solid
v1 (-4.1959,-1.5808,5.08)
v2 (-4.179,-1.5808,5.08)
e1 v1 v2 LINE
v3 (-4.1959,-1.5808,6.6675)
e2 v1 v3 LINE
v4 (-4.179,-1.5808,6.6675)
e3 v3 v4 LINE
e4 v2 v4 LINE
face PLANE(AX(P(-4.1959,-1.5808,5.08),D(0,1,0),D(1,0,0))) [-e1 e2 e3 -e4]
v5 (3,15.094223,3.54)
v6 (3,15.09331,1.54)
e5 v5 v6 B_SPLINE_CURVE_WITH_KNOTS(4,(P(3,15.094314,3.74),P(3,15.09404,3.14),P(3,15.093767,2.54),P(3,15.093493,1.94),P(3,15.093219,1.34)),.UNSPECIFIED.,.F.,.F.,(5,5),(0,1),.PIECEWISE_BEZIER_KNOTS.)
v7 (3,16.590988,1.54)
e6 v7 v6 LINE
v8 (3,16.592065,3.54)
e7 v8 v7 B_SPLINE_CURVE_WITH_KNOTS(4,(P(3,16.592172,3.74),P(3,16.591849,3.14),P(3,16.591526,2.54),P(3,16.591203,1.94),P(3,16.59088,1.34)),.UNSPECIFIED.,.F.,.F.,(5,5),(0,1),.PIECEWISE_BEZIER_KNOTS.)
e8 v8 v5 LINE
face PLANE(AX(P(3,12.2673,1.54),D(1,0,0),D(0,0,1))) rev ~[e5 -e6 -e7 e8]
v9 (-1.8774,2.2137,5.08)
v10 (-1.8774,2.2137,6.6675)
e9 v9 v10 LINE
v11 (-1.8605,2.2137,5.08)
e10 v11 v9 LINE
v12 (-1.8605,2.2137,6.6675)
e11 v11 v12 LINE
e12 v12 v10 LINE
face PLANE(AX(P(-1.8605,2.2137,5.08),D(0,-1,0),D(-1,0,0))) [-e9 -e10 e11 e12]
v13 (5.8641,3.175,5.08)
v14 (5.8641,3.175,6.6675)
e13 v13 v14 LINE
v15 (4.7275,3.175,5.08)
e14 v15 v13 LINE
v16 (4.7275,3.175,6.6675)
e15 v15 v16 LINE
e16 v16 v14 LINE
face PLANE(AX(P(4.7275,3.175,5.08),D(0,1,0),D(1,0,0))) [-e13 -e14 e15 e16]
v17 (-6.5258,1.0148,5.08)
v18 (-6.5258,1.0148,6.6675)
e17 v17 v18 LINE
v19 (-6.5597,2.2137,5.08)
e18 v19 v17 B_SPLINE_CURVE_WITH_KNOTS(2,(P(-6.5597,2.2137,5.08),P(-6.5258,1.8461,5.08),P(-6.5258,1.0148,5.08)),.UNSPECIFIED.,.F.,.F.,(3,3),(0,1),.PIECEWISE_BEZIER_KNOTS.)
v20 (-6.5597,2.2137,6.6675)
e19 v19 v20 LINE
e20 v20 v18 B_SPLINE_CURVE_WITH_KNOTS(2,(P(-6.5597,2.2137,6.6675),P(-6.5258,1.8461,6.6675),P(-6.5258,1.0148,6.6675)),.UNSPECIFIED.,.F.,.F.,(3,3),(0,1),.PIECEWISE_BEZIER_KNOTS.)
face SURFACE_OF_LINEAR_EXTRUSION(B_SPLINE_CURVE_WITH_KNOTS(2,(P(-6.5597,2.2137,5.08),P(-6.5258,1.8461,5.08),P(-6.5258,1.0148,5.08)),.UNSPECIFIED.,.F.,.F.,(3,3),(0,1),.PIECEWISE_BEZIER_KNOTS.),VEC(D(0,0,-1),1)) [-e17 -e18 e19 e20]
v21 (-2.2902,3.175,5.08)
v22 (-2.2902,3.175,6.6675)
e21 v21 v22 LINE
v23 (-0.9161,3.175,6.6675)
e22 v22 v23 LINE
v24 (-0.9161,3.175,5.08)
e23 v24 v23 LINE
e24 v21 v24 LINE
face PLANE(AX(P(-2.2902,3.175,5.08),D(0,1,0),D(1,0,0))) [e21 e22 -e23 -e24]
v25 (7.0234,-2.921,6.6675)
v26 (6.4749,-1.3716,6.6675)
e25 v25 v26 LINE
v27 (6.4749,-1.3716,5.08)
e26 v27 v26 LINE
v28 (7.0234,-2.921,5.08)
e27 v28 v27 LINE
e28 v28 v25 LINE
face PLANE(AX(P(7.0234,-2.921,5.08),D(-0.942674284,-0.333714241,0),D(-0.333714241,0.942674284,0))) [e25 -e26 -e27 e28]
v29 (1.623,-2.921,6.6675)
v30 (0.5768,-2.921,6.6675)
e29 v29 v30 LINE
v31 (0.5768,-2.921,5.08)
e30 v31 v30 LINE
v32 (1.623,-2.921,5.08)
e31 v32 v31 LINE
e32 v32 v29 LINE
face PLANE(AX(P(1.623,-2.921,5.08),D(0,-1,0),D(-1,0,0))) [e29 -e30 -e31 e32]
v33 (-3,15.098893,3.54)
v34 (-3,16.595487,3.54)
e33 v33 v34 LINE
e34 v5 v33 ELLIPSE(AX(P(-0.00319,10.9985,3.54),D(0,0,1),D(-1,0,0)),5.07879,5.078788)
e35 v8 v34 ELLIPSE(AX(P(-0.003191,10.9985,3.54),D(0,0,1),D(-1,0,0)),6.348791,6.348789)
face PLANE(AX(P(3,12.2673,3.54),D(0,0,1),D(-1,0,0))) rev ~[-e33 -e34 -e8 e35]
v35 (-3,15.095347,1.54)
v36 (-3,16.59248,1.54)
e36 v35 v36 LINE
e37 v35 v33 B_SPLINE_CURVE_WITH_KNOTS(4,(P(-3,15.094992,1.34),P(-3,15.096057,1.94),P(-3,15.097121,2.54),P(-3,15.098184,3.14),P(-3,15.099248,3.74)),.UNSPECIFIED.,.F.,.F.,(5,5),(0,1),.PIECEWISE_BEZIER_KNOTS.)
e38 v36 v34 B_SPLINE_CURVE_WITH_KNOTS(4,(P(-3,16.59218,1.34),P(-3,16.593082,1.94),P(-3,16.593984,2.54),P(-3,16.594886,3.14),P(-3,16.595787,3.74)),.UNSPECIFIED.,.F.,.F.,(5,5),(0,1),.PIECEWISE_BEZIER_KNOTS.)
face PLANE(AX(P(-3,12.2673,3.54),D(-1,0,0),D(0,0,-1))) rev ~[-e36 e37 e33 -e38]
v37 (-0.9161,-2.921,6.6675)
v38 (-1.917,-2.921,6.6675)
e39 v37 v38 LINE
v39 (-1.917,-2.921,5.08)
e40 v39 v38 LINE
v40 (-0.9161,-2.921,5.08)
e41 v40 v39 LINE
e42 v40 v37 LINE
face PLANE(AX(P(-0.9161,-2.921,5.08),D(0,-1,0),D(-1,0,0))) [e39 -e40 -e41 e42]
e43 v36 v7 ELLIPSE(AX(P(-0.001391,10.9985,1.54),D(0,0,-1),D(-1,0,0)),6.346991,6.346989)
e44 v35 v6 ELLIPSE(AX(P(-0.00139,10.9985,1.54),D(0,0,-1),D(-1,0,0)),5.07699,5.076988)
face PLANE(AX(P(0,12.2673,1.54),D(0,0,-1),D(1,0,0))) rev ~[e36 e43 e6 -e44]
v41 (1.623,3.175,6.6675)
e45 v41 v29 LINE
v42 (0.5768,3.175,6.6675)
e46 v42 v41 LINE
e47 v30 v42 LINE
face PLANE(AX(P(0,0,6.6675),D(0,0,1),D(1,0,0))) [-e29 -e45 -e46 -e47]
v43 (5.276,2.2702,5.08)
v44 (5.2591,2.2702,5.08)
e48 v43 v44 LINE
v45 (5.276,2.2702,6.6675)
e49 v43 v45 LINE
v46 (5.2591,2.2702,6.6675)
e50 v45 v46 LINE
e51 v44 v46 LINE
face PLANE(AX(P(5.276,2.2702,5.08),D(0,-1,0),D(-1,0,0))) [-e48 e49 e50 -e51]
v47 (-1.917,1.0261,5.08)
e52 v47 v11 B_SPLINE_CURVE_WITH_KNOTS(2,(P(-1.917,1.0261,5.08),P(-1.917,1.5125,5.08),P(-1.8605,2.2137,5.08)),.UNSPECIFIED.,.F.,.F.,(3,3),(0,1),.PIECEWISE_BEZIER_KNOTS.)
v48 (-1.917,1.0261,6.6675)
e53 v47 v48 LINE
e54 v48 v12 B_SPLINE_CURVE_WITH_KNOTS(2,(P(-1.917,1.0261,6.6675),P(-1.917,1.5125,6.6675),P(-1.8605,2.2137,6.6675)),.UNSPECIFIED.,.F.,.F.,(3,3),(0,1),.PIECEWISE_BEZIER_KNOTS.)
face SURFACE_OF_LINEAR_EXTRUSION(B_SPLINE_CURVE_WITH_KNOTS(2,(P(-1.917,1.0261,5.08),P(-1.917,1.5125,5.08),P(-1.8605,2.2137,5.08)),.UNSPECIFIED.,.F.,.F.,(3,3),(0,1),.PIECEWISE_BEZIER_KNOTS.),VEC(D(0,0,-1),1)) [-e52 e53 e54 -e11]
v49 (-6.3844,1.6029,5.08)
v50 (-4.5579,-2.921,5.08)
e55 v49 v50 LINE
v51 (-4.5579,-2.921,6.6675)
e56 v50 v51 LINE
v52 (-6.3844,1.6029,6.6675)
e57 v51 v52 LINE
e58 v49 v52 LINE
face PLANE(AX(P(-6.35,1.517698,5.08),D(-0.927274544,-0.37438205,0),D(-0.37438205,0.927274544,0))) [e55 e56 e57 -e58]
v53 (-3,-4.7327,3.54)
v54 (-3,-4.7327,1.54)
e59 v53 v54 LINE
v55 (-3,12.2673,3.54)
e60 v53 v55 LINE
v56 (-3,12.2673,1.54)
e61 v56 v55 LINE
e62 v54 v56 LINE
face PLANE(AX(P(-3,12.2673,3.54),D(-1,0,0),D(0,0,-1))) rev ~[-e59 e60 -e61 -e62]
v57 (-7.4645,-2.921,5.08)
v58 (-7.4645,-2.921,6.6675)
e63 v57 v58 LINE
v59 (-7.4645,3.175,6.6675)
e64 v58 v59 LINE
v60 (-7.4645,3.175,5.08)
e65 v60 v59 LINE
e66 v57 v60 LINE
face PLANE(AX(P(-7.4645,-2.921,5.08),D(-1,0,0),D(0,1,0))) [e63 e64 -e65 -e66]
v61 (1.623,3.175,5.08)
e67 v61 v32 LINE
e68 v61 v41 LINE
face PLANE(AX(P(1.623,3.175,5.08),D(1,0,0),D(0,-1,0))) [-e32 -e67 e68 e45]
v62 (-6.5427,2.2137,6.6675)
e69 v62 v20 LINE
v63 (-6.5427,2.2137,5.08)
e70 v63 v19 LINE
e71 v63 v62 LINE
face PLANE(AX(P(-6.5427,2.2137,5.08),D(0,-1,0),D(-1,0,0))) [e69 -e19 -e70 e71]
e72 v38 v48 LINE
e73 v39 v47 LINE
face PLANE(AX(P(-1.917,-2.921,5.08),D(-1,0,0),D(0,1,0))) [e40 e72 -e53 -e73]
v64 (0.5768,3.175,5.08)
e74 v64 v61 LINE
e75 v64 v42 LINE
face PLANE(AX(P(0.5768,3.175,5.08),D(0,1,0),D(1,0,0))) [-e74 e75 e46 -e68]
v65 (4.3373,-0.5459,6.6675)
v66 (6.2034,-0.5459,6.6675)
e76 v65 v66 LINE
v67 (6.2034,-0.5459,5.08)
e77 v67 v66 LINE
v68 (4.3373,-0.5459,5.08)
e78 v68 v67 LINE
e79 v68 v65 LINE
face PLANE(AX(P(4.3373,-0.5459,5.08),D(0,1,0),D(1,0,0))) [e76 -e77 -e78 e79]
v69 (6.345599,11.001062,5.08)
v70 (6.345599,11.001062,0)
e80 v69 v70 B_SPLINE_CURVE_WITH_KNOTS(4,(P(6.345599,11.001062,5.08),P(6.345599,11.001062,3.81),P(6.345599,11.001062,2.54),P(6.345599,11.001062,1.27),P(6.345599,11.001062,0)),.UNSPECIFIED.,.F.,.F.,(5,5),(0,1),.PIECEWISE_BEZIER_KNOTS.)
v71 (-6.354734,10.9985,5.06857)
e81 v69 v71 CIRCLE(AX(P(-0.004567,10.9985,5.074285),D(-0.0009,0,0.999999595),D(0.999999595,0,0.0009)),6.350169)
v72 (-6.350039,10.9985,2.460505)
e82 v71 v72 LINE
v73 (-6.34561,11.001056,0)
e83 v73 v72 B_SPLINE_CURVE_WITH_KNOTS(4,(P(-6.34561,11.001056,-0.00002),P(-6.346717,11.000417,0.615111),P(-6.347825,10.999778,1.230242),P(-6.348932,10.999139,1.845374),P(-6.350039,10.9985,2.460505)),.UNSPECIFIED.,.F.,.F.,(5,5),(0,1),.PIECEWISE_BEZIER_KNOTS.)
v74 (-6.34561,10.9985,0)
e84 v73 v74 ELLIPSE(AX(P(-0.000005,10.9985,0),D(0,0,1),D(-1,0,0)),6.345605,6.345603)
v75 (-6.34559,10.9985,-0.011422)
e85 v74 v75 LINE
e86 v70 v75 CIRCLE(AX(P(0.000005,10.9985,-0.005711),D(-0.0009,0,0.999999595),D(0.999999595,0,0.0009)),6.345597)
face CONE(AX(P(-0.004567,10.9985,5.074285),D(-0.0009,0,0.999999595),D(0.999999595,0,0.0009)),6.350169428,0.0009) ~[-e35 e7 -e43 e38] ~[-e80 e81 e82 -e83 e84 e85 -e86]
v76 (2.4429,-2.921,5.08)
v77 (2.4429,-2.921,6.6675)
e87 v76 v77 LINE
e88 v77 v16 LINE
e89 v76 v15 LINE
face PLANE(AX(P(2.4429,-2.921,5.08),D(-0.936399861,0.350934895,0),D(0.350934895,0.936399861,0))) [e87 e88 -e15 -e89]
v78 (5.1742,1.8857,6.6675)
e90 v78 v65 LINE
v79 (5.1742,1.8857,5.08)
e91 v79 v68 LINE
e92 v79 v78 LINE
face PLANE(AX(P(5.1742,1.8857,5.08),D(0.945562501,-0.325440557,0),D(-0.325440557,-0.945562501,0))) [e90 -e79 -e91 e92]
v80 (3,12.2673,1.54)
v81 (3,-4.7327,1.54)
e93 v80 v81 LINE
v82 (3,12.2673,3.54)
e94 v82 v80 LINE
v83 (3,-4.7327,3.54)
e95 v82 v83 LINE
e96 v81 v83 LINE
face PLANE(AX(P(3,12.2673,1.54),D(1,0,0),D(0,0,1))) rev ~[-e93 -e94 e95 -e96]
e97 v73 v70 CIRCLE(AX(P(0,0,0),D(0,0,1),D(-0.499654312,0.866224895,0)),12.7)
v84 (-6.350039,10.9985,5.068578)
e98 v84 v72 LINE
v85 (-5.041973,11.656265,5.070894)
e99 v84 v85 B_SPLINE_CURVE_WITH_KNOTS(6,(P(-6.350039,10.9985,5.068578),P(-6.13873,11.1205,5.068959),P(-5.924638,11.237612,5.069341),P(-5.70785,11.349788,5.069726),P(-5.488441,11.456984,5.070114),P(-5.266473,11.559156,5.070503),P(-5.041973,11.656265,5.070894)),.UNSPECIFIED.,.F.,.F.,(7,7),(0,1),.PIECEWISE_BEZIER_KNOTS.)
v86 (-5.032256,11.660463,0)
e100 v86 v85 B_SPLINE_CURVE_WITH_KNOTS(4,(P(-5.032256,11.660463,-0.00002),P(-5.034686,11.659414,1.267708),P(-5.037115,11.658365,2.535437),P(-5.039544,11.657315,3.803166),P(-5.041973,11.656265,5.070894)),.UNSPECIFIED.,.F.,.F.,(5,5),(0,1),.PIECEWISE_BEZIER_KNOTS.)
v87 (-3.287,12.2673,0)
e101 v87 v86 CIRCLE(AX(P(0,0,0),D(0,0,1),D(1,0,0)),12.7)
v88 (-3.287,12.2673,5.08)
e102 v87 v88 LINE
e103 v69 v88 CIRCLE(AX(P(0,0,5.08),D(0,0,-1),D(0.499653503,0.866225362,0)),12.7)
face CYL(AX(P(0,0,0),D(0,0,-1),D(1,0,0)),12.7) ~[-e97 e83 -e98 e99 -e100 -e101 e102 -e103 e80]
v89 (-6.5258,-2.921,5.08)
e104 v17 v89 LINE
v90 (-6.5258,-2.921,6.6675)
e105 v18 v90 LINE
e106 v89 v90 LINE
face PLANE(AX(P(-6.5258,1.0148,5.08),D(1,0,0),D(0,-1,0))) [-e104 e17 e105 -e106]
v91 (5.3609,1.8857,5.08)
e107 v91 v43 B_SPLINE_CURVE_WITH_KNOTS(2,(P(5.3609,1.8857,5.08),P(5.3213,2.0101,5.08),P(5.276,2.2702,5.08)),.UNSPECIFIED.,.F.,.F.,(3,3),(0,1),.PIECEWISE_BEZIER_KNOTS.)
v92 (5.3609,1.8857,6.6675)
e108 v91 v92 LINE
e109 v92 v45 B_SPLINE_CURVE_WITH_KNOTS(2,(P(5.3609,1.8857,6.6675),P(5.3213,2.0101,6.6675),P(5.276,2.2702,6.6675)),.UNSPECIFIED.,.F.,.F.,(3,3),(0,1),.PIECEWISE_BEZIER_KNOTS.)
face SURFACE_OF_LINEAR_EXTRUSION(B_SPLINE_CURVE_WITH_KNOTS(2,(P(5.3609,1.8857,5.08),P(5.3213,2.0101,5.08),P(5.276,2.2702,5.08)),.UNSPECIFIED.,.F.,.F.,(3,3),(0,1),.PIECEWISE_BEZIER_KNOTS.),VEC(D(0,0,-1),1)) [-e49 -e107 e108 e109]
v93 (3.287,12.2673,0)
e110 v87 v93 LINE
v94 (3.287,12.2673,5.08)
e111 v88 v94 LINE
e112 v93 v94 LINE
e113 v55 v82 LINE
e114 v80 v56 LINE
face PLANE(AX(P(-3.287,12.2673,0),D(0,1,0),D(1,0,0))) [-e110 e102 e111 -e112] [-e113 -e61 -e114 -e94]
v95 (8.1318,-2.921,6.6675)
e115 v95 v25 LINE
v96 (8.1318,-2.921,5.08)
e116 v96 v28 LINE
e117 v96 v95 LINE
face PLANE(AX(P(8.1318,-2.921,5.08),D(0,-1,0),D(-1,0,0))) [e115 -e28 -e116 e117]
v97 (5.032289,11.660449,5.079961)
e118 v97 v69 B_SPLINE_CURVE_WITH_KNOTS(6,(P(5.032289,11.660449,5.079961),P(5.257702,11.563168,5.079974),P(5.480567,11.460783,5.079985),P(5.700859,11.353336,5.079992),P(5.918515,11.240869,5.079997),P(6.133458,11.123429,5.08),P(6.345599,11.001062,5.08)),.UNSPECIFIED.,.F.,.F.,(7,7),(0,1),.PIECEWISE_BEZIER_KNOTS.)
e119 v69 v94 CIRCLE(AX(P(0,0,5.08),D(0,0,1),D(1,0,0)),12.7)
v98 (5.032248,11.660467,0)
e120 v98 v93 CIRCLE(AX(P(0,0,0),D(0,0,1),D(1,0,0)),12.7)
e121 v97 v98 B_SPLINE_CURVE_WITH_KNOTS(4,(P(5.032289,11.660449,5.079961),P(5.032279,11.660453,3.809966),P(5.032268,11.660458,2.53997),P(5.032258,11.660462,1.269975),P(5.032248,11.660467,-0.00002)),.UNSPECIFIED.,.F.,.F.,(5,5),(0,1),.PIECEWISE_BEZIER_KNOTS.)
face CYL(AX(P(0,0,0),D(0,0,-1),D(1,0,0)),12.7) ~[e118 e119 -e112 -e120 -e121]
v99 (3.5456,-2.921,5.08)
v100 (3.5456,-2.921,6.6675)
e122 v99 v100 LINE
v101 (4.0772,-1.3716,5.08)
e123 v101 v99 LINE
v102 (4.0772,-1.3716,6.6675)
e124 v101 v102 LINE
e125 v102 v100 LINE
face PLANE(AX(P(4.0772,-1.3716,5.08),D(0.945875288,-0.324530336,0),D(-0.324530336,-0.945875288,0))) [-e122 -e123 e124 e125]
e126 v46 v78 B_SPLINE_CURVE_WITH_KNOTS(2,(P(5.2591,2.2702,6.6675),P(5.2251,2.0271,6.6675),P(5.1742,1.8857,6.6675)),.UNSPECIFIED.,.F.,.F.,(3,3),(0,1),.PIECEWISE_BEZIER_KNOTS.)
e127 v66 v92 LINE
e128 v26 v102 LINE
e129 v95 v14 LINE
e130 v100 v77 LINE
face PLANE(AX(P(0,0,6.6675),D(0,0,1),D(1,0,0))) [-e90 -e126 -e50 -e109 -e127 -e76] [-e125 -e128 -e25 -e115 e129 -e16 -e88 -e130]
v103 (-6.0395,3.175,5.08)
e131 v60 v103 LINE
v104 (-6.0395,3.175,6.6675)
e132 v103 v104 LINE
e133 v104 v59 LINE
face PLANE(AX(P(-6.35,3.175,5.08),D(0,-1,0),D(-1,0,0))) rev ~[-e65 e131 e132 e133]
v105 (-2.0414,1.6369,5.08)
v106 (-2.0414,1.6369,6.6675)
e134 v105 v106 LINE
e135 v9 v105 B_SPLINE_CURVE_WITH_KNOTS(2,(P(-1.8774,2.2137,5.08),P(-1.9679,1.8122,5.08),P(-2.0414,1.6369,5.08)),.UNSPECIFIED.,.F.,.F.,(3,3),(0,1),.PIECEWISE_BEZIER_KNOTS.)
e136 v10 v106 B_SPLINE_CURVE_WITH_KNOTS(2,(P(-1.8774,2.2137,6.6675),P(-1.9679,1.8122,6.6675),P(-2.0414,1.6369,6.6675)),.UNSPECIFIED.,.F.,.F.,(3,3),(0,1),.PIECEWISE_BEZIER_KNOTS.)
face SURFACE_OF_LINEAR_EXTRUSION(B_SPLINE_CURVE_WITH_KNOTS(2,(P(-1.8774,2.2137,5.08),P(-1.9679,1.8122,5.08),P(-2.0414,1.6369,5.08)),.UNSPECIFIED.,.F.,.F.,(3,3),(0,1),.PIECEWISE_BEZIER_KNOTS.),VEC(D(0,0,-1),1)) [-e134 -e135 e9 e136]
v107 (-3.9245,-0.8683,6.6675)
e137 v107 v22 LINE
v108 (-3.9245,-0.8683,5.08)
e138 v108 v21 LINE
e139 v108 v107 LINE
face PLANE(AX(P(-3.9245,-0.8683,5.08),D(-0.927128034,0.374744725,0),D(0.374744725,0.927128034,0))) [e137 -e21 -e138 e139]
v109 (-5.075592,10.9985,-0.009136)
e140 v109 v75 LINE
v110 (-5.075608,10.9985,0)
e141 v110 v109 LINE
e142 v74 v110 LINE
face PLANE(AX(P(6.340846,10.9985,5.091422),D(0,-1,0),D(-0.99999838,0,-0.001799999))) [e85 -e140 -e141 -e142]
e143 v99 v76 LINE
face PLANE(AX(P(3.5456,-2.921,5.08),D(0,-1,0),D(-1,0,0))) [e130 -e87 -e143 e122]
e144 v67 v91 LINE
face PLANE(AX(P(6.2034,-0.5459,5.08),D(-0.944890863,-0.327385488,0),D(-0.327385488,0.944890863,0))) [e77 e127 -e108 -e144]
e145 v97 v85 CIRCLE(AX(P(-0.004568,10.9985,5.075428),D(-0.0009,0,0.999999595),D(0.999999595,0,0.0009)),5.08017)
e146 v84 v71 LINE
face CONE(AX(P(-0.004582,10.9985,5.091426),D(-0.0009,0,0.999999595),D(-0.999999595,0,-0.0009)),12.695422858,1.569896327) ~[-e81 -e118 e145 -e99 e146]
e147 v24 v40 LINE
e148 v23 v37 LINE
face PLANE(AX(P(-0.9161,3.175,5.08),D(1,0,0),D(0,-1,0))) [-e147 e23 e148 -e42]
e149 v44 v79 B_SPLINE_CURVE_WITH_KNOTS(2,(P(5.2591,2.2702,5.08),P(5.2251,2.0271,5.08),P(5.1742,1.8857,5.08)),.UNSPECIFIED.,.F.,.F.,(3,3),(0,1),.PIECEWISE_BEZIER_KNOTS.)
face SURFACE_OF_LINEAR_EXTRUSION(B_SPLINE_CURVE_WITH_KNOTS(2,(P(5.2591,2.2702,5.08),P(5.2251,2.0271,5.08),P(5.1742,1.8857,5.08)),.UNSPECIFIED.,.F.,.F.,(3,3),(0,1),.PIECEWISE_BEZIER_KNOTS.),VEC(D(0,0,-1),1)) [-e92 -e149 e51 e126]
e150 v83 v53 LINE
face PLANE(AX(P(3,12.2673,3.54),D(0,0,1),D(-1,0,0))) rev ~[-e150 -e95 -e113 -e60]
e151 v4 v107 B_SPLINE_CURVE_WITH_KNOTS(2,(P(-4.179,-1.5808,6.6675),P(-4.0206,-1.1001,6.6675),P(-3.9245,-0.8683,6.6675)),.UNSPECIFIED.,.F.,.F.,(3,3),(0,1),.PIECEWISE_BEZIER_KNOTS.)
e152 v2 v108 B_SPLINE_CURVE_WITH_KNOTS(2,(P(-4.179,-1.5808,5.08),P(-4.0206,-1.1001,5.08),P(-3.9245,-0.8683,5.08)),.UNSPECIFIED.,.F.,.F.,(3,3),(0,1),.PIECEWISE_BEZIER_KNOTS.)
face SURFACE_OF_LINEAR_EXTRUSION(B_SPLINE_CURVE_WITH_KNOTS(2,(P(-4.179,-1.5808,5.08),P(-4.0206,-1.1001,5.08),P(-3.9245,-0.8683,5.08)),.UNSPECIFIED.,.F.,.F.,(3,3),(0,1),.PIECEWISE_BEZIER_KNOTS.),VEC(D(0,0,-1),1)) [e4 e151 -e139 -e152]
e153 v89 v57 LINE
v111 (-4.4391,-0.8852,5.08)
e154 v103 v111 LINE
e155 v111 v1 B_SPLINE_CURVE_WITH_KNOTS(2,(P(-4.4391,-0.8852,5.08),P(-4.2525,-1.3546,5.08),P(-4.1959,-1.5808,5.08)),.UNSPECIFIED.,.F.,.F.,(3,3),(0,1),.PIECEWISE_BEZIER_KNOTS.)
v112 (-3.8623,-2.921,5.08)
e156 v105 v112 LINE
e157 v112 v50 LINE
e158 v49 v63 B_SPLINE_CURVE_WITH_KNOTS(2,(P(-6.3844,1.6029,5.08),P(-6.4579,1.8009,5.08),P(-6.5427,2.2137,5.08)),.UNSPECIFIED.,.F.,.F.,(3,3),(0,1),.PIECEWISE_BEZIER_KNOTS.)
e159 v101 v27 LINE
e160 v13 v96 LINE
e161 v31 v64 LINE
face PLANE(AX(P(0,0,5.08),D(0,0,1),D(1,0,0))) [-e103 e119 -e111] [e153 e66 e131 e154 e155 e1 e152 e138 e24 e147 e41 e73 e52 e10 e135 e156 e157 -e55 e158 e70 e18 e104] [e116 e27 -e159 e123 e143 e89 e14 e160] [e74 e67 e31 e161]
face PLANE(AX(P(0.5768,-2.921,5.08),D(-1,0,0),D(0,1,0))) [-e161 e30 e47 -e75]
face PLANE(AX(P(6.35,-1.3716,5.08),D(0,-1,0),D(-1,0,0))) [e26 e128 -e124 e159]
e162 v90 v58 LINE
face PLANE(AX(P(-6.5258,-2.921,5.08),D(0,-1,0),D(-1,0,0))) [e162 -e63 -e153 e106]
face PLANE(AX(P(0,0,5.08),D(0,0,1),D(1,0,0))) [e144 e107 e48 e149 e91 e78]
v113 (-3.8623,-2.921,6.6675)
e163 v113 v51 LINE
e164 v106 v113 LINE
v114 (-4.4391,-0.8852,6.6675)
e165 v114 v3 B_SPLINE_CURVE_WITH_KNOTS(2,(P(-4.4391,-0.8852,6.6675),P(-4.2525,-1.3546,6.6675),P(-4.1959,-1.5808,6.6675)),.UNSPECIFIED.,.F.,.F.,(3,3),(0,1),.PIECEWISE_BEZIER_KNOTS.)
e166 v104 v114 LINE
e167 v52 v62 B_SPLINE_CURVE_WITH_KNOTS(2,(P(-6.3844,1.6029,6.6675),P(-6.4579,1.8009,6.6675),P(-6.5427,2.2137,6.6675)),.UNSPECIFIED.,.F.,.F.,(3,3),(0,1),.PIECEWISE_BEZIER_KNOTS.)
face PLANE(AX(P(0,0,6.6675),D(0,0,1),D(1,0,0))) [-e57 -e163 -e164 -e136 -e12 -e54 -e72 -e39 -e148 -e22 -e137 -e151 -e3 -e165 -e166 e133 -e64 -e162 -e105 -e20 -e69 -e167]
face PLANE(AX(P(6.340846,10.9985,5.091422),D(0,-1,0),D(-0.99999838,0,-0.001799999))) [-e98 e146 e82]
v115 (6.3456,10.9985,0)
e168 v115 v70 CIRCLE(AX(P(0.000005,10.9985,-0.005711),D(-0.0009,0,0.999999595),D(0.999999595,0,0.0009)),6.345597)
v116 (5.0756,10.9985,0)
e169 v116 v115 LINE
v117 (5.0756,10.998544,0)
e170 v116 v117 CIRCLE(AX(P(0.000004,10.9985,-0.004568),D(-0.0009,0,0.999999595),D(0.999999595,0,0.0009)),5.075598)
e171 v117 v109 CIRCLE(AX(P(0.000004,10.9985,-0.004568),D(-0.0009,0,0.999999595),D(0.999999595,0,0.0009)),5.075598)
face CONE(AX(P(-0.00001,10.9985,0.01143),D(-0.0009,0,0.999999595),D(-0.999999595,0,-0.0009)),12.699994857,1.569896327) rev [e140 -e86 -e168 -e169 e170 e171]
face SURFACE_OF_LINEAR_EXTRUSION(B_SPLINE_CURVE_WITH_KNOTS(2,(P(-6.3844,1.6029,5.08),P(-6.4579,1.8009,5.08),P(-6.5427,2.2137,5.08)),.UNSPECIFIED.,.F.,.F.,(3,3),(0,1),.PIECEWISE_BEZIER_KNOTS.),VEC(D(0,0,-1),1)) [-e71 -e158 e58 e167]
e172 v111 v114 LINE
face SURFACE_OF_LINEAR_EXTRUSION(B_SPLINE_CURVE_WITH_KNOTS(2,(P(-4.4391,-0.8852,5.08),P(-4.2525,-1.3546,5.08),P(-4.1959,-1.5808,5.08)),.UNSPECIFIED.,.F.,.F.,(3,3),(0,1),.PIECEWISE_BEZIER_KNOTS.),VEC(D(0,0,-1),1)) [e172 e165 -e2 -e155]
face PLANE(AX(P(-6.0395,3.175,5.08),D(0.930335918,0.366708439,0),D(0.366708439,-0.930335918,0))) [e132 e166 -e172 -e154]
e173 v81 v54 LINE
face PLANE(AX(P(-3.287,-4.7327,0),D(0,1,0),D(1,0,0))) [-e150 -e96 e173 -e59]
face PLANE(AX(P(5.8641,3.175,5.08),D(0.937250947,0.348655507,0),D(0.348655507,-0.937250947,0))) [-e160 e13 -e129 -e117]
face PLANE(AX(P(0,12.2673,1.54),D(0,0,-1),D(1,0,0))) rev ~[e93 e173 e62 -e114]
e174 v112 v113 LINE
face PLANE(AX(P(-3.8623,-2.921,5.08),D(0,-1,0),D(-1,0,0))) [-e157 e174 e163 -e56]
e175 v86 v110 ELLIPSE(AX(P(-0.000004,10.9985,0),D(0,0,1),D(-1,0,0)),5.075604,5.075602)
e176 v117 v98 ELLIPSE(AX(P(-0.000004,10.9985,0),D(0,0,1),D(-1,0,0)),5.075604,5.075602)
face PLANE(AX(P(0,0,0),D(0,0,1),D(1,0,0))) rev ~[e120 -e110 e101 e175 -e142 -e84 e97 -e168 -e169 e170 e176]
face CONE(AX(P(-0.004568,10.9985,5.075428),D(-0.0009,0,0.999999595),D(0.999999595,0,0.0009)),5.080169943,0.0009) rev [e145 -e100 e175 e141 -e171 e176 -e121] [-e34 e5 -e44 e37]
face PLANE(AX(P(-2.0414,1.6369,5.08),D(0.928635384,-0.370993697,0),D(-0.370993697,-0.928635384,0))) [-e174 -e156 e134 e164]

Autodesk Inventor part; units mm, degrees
ref_plane "YZ Plane" through (0, 0, 0) normal (1, 0, 0) x (0, 1, 0)
ref_plane "XZ Plane" through (0, 0, 0) normal (0, 1, 0) x (-1, 0, 0)
ref_plane "XY Plane" through (0, 0, 0) normal (0, 0, 1) x (1, 0, 0)
sketch "Sketch1" plane through (0, 0, 0) normal (0, 0, 1) x (1, 0, 0)
  circle A0 centre (0, 0) radius 12.7
  arc A1 (3.287, 12.2673) -> (-3.287, 12.2673) centre (0, 0) ccw
  line L0 (0, 0) -> (3.287, 12.2673) construction
  line L1 (0, 0) -> (12.7, 0) construction
  line L2 (0, 0) -> (-3.287, 12.2673) construction
  line L3 (-3.287, 12.2673) -> (3.287, 12.2673)
  point P0 (3.287, 12.2673)
  point P1 (-3.287, 12.2673)
  dimension "d0" = 25.4
  dimension "d1" = 12.7
  dimension "d2" = 75
  dimension "d3" = 30
extrude "Extrusion1" add sketch "Sketch1" along normal blind 5.08 contours A0 L3 picked at (4.079, -0.9801)
sketch "Sketch3" plane through (0, 0, 5.08) normal (0, 0, 1) x (1, 0, 0)
  arc A0 (-3.287, 12.2673) -> (3.287, 12.2673) centre (0, 0) ccw projected
  arc A1 (6.35, 10.9985) -> (-6.35, 10.9985) centre (0, 0) ccw
  line L0 (0, 0) -> (6.35, 10.9985) construction
  line L1 (0, 0) -> (12.7, 0) construction
  line L2 (0, 0) -> (-6.35, 10.9985) construction
  line L3 (-6.35, 10.9985) -> (6.35, 10.9985)
  dimension "d12" = 60
  dimension "d13" = 60
ref_plane "Work Plane1" through (-6.35, 10.9985, 5.08) normal (0, 1, 0) x (1, 0, 0)
sketch "Sketch4" plane through (-6.35, 10.9985, 5.08) normal (0, 1, 0) x (1, 0, 0)
  line L0 (-6.35, 0) -> (19.05, 0) projected
  line L1 (-6.35, 5.08) -> (19.05, 5.08) projected
  line L2 (-0.0044, 0) -> (12.6956, 0)
  line L3 (12.6956, 0) -> (12.6956, 5.08)
  line L4 (12.6956, 5.08) -> (-0.0044, 5.08)
  line L5 (-0.0044, 5.08) -> (-0.0044, 0)
  line L6 (-0.0044, 5.08) -> (1.2656, 5.08)
  line L7 (1.2656, 5.08) -> (1.2656, 0)
  line L8 (1.2656, 0) -> (-0.0044, 0)
  line L9 (-0.0044, 0) -> (-0.0044, 5.08)
  line L10 (12.6956, 0) -> (11.4256, 0)
  line L11 (11.4256, 0) -> (11.4256, 5.08)
  line L12 (11.4256, 5.08) -> (12.6956, 5.08)
  line L13 (12.6956, 5.08) -> (12.6956, 0)
  line L14 (6.35, 5.08) -> (6.3456, 0)
  point P0 (3.063, 0)
  point P1 (9.637, 0)
  point P2 (3.063, 5.08)
  point P3 (9.637, 5.08)
  dimension "d15" = 12.7
  dimension "d16" = 1.27
  dimension "d17" = 1.27
revolve "Revolution1" add sketch "Sketch4" angle 180 about axis through (0, 10.9985, 0) along (-0.0009, 0, 1) contours L11 L1 L3 L0
sketch "Sketch5" plane through (0, 0, 5.08) normal (0, 0, 1) x (1, 0, 0)
  line L0 (6.35, -3.175) -> (-6.35, -3.175)
  line L1 (-6.35, -3.175) -> (-6.35, 3.175)
  line L2 (-6.35, 3.175) -> (6.35, 3.175)
  line L3 (6.35, 3.175) -> (6.35, -3.175)
  line L4 (6.35, -3.175) -> (-6.35, 3.175) construction
  line L5 (-6.35, -3.175) -> (6.35, 3.175) construction
  line L6 (-9.525, 3.175) -> (9.525, 3.175) construction
  line L7 (9.525, 3.175) -> (9.525, -3.0049) construction
  line L8 (9.525, -3.0049) -> (-9.525, -3.0049) construction
  line L9 (-9.525, -3.0049) -> (-9.525, 3.175) construction
  line L10 (-6.35, 3.175) -> (-9.525, 3.175)
  line L11 (-0.9161, -2.921) -> (-1.917, -2.921)
  line L12 (-1.917, -2.921) -> (-1.917, 1.0261)
  spline S0 degree 2 poles (-1.917, 1.0261) (-1.917, 1.5125) (-1.8605, 2.2137) knots 0 0 0 1 1 1
  line L13 (-1.8605, 2.2137) -> (-1.8774, 2.2137)
  spline S1 degree 2 poles (-1.8774, 2.2137) (-1.9679, 1.8122) (-2.0414, 1.6369) knots 0 0 0 1 1 1
  line L14 (-2.0414, 1.6369) -> (-3.8623, -2.921)
  line L15 (-3.8623, -2.921) -> (-4.5579, -2.921)
  line L16 (-4.5579, -2.921) -> (-6.3844, 1.6029)
  spline S2 degree 2 poles (-6.3844, 1.6029) (-6.4579, 1.8009) (-6.5427, 2.2137) knots 0 0 0 1 1 1
  line L17 (-6.5427, 2.2137) -> (-6.5597, 2.2137)
  spline S3 degree 2 poles (-6.5597, 2.2137) (-6.5258, 1.8461) (-6.5258, 1.0148) knots 0 0 0 1 1 1
  line L18 (-6.5258, 1.0148) -> (-6.5258, -2.921)
  line L19 (-6.5258, -2.921) -> (-7.4645, -2.921)
  line L20 (-7.4645, -2.921) -> (-7.4645, 3.175)
  line L21 (-7.4645, 3.175) -> (-6.0395, 3.175)
  line L22 (-6.0395, 3.175) -> (-4.4391, -0.8852)
  spline S4 degree 2 poles (-4.4391, -0.8852) (-4.2525, -1.3546) (-4.1959, -1.5808) knots 0 0 0 1 1 1
  line L23 (-4.1959, -1.5808) -> (-4.179, -1.5808)
  spline S5 degree 2 poles (-4.179, -1.5808) (-4.0206, -1.1001) (-3.9245, -0.8683) knots 0 0 0 1 1 1
  line L24 (-3.9245, -0.8683) -> (-2.2902, 3.175)
  line L25 (-2.2902, 3.175) -> (-0.9161, 3.175)
  line L26 (-0.9161, 3.175) -> (-0.9161, -2.921)
  line L27 (1.623, -2.921) -> (0.5768, -2.921)
  line L28 (0.5768, -2.921) -> (0.5768, 3.175)
  line L29 (0.5768, 3.175) -> (1.623, 3.175)
  line L30 (1.623, 3.175) -> (1.623, -2.921)
  line L31 (8.1318, -2.921) -> (7.0234, -2.921)
  line L32 (7.0234, -2.921) -> (6.4749, -1.3716)
  line L33 (6.4749, -1.3716) -> (4.0772, -1.3716)
  line L34 (4.0772, -1.3716) -> (3.5456, -2.921)
  line L35 (3.5456, -2.921) -> (2.4429, -2.921)
  line L36 (2.4429, -2.921) -> (4.7275, 3.175)
  line L37 (4.7275, 3.175) -> (5.8641, 3.175)
  line L38 (5.8641, 3.175) -> (8.1318, -2.921)
  line L39 (6.2034, -0.5459) -> (5.3609, 1.8857)
  spline S6 degree 2 poles (5.3609, 1.8857) (5.3213, 2.0101) (5.276, 2.2702) knots 0 0 0 1 1 1
  line L40 (5.276, 2.2702) -> (5.2591, 2.2702)
  spline S7 degree 2 poles (5.2591, 2.2702) (5.2251, 2.0271) (5.1742, 1.8857) knots 0 0 0 1 1 1
  line L41 (5.1742, 1.8857) -> (4.3373, -0.5459)
  line L42 (4.3373, -0.5459) -> (6.2034, -0.5459)
  point P0 (0, 0)
  dimension "d19" = 12.7
  dimension "d20" = 6.35
  dimension "d21" = 19.05
  dimension "d22" = 3.175
extrude "Extrusion3" add sketch "Sketch5" along normal blind 1.5875 contours L33 L34 L35 L36 L2 L38 L3 | L3 L38 L31 L32 L33 | L16 S2 L17 S3 L18 L19 L20 L10 L1 | L1 L2 L22 S4 L23 S5 L24 L26 L11 L12 S0 L13 S1 L14 L15 L16 | L30 L27 L28 L2
sketch "Sketch2" plane through (-3.287, 12.2673, 0) normal (0, 1, 0) x (1, 0, 0)
  line L0 (6.574, 0) -> (0, 0) projected
  line L1 (6.574, -5.08) -> (0, -5.08) projected
  line L2 (0, 0) -> (6.574, 0)
  line L3 (6.574, 0) -> (6.574, -5.08)
  line L4 (6.574, -5.08) -> (0, -5.08)
  line L5 (0, -5.08) -> (0, 0)
  line L6 (3.287, 0) -> (3.287, -5.08)
  line L7 (0.287, -1.54) -> (6.287, -1.54)
  line L8 (6.287, -1.54) -> (6.287, -3.54)
  line L9 (6.287, -3.54) -> (0.287, -3.54)
  line L10 (0.287, -3.54) -> (0.287, -1.54)
  line L11 (0.287, -1.54) -> (6.287, -3.54) construction
  line L12 (6.287, -1.54) -> (0.287, -3.54) construction
  point P0 (3.287, -2.54)
  dimension "d6" = 6.574
  dimension "d8" = 6
  dimension "d9" = 2
extrude "Extrusion2" cut sketch "Sketch2" along normal blind 12.7 and the other way blind 17 contours L7 L8 L9 L6 | L6 L9 L10 L7
properties part number "MIA Pendant 2"
